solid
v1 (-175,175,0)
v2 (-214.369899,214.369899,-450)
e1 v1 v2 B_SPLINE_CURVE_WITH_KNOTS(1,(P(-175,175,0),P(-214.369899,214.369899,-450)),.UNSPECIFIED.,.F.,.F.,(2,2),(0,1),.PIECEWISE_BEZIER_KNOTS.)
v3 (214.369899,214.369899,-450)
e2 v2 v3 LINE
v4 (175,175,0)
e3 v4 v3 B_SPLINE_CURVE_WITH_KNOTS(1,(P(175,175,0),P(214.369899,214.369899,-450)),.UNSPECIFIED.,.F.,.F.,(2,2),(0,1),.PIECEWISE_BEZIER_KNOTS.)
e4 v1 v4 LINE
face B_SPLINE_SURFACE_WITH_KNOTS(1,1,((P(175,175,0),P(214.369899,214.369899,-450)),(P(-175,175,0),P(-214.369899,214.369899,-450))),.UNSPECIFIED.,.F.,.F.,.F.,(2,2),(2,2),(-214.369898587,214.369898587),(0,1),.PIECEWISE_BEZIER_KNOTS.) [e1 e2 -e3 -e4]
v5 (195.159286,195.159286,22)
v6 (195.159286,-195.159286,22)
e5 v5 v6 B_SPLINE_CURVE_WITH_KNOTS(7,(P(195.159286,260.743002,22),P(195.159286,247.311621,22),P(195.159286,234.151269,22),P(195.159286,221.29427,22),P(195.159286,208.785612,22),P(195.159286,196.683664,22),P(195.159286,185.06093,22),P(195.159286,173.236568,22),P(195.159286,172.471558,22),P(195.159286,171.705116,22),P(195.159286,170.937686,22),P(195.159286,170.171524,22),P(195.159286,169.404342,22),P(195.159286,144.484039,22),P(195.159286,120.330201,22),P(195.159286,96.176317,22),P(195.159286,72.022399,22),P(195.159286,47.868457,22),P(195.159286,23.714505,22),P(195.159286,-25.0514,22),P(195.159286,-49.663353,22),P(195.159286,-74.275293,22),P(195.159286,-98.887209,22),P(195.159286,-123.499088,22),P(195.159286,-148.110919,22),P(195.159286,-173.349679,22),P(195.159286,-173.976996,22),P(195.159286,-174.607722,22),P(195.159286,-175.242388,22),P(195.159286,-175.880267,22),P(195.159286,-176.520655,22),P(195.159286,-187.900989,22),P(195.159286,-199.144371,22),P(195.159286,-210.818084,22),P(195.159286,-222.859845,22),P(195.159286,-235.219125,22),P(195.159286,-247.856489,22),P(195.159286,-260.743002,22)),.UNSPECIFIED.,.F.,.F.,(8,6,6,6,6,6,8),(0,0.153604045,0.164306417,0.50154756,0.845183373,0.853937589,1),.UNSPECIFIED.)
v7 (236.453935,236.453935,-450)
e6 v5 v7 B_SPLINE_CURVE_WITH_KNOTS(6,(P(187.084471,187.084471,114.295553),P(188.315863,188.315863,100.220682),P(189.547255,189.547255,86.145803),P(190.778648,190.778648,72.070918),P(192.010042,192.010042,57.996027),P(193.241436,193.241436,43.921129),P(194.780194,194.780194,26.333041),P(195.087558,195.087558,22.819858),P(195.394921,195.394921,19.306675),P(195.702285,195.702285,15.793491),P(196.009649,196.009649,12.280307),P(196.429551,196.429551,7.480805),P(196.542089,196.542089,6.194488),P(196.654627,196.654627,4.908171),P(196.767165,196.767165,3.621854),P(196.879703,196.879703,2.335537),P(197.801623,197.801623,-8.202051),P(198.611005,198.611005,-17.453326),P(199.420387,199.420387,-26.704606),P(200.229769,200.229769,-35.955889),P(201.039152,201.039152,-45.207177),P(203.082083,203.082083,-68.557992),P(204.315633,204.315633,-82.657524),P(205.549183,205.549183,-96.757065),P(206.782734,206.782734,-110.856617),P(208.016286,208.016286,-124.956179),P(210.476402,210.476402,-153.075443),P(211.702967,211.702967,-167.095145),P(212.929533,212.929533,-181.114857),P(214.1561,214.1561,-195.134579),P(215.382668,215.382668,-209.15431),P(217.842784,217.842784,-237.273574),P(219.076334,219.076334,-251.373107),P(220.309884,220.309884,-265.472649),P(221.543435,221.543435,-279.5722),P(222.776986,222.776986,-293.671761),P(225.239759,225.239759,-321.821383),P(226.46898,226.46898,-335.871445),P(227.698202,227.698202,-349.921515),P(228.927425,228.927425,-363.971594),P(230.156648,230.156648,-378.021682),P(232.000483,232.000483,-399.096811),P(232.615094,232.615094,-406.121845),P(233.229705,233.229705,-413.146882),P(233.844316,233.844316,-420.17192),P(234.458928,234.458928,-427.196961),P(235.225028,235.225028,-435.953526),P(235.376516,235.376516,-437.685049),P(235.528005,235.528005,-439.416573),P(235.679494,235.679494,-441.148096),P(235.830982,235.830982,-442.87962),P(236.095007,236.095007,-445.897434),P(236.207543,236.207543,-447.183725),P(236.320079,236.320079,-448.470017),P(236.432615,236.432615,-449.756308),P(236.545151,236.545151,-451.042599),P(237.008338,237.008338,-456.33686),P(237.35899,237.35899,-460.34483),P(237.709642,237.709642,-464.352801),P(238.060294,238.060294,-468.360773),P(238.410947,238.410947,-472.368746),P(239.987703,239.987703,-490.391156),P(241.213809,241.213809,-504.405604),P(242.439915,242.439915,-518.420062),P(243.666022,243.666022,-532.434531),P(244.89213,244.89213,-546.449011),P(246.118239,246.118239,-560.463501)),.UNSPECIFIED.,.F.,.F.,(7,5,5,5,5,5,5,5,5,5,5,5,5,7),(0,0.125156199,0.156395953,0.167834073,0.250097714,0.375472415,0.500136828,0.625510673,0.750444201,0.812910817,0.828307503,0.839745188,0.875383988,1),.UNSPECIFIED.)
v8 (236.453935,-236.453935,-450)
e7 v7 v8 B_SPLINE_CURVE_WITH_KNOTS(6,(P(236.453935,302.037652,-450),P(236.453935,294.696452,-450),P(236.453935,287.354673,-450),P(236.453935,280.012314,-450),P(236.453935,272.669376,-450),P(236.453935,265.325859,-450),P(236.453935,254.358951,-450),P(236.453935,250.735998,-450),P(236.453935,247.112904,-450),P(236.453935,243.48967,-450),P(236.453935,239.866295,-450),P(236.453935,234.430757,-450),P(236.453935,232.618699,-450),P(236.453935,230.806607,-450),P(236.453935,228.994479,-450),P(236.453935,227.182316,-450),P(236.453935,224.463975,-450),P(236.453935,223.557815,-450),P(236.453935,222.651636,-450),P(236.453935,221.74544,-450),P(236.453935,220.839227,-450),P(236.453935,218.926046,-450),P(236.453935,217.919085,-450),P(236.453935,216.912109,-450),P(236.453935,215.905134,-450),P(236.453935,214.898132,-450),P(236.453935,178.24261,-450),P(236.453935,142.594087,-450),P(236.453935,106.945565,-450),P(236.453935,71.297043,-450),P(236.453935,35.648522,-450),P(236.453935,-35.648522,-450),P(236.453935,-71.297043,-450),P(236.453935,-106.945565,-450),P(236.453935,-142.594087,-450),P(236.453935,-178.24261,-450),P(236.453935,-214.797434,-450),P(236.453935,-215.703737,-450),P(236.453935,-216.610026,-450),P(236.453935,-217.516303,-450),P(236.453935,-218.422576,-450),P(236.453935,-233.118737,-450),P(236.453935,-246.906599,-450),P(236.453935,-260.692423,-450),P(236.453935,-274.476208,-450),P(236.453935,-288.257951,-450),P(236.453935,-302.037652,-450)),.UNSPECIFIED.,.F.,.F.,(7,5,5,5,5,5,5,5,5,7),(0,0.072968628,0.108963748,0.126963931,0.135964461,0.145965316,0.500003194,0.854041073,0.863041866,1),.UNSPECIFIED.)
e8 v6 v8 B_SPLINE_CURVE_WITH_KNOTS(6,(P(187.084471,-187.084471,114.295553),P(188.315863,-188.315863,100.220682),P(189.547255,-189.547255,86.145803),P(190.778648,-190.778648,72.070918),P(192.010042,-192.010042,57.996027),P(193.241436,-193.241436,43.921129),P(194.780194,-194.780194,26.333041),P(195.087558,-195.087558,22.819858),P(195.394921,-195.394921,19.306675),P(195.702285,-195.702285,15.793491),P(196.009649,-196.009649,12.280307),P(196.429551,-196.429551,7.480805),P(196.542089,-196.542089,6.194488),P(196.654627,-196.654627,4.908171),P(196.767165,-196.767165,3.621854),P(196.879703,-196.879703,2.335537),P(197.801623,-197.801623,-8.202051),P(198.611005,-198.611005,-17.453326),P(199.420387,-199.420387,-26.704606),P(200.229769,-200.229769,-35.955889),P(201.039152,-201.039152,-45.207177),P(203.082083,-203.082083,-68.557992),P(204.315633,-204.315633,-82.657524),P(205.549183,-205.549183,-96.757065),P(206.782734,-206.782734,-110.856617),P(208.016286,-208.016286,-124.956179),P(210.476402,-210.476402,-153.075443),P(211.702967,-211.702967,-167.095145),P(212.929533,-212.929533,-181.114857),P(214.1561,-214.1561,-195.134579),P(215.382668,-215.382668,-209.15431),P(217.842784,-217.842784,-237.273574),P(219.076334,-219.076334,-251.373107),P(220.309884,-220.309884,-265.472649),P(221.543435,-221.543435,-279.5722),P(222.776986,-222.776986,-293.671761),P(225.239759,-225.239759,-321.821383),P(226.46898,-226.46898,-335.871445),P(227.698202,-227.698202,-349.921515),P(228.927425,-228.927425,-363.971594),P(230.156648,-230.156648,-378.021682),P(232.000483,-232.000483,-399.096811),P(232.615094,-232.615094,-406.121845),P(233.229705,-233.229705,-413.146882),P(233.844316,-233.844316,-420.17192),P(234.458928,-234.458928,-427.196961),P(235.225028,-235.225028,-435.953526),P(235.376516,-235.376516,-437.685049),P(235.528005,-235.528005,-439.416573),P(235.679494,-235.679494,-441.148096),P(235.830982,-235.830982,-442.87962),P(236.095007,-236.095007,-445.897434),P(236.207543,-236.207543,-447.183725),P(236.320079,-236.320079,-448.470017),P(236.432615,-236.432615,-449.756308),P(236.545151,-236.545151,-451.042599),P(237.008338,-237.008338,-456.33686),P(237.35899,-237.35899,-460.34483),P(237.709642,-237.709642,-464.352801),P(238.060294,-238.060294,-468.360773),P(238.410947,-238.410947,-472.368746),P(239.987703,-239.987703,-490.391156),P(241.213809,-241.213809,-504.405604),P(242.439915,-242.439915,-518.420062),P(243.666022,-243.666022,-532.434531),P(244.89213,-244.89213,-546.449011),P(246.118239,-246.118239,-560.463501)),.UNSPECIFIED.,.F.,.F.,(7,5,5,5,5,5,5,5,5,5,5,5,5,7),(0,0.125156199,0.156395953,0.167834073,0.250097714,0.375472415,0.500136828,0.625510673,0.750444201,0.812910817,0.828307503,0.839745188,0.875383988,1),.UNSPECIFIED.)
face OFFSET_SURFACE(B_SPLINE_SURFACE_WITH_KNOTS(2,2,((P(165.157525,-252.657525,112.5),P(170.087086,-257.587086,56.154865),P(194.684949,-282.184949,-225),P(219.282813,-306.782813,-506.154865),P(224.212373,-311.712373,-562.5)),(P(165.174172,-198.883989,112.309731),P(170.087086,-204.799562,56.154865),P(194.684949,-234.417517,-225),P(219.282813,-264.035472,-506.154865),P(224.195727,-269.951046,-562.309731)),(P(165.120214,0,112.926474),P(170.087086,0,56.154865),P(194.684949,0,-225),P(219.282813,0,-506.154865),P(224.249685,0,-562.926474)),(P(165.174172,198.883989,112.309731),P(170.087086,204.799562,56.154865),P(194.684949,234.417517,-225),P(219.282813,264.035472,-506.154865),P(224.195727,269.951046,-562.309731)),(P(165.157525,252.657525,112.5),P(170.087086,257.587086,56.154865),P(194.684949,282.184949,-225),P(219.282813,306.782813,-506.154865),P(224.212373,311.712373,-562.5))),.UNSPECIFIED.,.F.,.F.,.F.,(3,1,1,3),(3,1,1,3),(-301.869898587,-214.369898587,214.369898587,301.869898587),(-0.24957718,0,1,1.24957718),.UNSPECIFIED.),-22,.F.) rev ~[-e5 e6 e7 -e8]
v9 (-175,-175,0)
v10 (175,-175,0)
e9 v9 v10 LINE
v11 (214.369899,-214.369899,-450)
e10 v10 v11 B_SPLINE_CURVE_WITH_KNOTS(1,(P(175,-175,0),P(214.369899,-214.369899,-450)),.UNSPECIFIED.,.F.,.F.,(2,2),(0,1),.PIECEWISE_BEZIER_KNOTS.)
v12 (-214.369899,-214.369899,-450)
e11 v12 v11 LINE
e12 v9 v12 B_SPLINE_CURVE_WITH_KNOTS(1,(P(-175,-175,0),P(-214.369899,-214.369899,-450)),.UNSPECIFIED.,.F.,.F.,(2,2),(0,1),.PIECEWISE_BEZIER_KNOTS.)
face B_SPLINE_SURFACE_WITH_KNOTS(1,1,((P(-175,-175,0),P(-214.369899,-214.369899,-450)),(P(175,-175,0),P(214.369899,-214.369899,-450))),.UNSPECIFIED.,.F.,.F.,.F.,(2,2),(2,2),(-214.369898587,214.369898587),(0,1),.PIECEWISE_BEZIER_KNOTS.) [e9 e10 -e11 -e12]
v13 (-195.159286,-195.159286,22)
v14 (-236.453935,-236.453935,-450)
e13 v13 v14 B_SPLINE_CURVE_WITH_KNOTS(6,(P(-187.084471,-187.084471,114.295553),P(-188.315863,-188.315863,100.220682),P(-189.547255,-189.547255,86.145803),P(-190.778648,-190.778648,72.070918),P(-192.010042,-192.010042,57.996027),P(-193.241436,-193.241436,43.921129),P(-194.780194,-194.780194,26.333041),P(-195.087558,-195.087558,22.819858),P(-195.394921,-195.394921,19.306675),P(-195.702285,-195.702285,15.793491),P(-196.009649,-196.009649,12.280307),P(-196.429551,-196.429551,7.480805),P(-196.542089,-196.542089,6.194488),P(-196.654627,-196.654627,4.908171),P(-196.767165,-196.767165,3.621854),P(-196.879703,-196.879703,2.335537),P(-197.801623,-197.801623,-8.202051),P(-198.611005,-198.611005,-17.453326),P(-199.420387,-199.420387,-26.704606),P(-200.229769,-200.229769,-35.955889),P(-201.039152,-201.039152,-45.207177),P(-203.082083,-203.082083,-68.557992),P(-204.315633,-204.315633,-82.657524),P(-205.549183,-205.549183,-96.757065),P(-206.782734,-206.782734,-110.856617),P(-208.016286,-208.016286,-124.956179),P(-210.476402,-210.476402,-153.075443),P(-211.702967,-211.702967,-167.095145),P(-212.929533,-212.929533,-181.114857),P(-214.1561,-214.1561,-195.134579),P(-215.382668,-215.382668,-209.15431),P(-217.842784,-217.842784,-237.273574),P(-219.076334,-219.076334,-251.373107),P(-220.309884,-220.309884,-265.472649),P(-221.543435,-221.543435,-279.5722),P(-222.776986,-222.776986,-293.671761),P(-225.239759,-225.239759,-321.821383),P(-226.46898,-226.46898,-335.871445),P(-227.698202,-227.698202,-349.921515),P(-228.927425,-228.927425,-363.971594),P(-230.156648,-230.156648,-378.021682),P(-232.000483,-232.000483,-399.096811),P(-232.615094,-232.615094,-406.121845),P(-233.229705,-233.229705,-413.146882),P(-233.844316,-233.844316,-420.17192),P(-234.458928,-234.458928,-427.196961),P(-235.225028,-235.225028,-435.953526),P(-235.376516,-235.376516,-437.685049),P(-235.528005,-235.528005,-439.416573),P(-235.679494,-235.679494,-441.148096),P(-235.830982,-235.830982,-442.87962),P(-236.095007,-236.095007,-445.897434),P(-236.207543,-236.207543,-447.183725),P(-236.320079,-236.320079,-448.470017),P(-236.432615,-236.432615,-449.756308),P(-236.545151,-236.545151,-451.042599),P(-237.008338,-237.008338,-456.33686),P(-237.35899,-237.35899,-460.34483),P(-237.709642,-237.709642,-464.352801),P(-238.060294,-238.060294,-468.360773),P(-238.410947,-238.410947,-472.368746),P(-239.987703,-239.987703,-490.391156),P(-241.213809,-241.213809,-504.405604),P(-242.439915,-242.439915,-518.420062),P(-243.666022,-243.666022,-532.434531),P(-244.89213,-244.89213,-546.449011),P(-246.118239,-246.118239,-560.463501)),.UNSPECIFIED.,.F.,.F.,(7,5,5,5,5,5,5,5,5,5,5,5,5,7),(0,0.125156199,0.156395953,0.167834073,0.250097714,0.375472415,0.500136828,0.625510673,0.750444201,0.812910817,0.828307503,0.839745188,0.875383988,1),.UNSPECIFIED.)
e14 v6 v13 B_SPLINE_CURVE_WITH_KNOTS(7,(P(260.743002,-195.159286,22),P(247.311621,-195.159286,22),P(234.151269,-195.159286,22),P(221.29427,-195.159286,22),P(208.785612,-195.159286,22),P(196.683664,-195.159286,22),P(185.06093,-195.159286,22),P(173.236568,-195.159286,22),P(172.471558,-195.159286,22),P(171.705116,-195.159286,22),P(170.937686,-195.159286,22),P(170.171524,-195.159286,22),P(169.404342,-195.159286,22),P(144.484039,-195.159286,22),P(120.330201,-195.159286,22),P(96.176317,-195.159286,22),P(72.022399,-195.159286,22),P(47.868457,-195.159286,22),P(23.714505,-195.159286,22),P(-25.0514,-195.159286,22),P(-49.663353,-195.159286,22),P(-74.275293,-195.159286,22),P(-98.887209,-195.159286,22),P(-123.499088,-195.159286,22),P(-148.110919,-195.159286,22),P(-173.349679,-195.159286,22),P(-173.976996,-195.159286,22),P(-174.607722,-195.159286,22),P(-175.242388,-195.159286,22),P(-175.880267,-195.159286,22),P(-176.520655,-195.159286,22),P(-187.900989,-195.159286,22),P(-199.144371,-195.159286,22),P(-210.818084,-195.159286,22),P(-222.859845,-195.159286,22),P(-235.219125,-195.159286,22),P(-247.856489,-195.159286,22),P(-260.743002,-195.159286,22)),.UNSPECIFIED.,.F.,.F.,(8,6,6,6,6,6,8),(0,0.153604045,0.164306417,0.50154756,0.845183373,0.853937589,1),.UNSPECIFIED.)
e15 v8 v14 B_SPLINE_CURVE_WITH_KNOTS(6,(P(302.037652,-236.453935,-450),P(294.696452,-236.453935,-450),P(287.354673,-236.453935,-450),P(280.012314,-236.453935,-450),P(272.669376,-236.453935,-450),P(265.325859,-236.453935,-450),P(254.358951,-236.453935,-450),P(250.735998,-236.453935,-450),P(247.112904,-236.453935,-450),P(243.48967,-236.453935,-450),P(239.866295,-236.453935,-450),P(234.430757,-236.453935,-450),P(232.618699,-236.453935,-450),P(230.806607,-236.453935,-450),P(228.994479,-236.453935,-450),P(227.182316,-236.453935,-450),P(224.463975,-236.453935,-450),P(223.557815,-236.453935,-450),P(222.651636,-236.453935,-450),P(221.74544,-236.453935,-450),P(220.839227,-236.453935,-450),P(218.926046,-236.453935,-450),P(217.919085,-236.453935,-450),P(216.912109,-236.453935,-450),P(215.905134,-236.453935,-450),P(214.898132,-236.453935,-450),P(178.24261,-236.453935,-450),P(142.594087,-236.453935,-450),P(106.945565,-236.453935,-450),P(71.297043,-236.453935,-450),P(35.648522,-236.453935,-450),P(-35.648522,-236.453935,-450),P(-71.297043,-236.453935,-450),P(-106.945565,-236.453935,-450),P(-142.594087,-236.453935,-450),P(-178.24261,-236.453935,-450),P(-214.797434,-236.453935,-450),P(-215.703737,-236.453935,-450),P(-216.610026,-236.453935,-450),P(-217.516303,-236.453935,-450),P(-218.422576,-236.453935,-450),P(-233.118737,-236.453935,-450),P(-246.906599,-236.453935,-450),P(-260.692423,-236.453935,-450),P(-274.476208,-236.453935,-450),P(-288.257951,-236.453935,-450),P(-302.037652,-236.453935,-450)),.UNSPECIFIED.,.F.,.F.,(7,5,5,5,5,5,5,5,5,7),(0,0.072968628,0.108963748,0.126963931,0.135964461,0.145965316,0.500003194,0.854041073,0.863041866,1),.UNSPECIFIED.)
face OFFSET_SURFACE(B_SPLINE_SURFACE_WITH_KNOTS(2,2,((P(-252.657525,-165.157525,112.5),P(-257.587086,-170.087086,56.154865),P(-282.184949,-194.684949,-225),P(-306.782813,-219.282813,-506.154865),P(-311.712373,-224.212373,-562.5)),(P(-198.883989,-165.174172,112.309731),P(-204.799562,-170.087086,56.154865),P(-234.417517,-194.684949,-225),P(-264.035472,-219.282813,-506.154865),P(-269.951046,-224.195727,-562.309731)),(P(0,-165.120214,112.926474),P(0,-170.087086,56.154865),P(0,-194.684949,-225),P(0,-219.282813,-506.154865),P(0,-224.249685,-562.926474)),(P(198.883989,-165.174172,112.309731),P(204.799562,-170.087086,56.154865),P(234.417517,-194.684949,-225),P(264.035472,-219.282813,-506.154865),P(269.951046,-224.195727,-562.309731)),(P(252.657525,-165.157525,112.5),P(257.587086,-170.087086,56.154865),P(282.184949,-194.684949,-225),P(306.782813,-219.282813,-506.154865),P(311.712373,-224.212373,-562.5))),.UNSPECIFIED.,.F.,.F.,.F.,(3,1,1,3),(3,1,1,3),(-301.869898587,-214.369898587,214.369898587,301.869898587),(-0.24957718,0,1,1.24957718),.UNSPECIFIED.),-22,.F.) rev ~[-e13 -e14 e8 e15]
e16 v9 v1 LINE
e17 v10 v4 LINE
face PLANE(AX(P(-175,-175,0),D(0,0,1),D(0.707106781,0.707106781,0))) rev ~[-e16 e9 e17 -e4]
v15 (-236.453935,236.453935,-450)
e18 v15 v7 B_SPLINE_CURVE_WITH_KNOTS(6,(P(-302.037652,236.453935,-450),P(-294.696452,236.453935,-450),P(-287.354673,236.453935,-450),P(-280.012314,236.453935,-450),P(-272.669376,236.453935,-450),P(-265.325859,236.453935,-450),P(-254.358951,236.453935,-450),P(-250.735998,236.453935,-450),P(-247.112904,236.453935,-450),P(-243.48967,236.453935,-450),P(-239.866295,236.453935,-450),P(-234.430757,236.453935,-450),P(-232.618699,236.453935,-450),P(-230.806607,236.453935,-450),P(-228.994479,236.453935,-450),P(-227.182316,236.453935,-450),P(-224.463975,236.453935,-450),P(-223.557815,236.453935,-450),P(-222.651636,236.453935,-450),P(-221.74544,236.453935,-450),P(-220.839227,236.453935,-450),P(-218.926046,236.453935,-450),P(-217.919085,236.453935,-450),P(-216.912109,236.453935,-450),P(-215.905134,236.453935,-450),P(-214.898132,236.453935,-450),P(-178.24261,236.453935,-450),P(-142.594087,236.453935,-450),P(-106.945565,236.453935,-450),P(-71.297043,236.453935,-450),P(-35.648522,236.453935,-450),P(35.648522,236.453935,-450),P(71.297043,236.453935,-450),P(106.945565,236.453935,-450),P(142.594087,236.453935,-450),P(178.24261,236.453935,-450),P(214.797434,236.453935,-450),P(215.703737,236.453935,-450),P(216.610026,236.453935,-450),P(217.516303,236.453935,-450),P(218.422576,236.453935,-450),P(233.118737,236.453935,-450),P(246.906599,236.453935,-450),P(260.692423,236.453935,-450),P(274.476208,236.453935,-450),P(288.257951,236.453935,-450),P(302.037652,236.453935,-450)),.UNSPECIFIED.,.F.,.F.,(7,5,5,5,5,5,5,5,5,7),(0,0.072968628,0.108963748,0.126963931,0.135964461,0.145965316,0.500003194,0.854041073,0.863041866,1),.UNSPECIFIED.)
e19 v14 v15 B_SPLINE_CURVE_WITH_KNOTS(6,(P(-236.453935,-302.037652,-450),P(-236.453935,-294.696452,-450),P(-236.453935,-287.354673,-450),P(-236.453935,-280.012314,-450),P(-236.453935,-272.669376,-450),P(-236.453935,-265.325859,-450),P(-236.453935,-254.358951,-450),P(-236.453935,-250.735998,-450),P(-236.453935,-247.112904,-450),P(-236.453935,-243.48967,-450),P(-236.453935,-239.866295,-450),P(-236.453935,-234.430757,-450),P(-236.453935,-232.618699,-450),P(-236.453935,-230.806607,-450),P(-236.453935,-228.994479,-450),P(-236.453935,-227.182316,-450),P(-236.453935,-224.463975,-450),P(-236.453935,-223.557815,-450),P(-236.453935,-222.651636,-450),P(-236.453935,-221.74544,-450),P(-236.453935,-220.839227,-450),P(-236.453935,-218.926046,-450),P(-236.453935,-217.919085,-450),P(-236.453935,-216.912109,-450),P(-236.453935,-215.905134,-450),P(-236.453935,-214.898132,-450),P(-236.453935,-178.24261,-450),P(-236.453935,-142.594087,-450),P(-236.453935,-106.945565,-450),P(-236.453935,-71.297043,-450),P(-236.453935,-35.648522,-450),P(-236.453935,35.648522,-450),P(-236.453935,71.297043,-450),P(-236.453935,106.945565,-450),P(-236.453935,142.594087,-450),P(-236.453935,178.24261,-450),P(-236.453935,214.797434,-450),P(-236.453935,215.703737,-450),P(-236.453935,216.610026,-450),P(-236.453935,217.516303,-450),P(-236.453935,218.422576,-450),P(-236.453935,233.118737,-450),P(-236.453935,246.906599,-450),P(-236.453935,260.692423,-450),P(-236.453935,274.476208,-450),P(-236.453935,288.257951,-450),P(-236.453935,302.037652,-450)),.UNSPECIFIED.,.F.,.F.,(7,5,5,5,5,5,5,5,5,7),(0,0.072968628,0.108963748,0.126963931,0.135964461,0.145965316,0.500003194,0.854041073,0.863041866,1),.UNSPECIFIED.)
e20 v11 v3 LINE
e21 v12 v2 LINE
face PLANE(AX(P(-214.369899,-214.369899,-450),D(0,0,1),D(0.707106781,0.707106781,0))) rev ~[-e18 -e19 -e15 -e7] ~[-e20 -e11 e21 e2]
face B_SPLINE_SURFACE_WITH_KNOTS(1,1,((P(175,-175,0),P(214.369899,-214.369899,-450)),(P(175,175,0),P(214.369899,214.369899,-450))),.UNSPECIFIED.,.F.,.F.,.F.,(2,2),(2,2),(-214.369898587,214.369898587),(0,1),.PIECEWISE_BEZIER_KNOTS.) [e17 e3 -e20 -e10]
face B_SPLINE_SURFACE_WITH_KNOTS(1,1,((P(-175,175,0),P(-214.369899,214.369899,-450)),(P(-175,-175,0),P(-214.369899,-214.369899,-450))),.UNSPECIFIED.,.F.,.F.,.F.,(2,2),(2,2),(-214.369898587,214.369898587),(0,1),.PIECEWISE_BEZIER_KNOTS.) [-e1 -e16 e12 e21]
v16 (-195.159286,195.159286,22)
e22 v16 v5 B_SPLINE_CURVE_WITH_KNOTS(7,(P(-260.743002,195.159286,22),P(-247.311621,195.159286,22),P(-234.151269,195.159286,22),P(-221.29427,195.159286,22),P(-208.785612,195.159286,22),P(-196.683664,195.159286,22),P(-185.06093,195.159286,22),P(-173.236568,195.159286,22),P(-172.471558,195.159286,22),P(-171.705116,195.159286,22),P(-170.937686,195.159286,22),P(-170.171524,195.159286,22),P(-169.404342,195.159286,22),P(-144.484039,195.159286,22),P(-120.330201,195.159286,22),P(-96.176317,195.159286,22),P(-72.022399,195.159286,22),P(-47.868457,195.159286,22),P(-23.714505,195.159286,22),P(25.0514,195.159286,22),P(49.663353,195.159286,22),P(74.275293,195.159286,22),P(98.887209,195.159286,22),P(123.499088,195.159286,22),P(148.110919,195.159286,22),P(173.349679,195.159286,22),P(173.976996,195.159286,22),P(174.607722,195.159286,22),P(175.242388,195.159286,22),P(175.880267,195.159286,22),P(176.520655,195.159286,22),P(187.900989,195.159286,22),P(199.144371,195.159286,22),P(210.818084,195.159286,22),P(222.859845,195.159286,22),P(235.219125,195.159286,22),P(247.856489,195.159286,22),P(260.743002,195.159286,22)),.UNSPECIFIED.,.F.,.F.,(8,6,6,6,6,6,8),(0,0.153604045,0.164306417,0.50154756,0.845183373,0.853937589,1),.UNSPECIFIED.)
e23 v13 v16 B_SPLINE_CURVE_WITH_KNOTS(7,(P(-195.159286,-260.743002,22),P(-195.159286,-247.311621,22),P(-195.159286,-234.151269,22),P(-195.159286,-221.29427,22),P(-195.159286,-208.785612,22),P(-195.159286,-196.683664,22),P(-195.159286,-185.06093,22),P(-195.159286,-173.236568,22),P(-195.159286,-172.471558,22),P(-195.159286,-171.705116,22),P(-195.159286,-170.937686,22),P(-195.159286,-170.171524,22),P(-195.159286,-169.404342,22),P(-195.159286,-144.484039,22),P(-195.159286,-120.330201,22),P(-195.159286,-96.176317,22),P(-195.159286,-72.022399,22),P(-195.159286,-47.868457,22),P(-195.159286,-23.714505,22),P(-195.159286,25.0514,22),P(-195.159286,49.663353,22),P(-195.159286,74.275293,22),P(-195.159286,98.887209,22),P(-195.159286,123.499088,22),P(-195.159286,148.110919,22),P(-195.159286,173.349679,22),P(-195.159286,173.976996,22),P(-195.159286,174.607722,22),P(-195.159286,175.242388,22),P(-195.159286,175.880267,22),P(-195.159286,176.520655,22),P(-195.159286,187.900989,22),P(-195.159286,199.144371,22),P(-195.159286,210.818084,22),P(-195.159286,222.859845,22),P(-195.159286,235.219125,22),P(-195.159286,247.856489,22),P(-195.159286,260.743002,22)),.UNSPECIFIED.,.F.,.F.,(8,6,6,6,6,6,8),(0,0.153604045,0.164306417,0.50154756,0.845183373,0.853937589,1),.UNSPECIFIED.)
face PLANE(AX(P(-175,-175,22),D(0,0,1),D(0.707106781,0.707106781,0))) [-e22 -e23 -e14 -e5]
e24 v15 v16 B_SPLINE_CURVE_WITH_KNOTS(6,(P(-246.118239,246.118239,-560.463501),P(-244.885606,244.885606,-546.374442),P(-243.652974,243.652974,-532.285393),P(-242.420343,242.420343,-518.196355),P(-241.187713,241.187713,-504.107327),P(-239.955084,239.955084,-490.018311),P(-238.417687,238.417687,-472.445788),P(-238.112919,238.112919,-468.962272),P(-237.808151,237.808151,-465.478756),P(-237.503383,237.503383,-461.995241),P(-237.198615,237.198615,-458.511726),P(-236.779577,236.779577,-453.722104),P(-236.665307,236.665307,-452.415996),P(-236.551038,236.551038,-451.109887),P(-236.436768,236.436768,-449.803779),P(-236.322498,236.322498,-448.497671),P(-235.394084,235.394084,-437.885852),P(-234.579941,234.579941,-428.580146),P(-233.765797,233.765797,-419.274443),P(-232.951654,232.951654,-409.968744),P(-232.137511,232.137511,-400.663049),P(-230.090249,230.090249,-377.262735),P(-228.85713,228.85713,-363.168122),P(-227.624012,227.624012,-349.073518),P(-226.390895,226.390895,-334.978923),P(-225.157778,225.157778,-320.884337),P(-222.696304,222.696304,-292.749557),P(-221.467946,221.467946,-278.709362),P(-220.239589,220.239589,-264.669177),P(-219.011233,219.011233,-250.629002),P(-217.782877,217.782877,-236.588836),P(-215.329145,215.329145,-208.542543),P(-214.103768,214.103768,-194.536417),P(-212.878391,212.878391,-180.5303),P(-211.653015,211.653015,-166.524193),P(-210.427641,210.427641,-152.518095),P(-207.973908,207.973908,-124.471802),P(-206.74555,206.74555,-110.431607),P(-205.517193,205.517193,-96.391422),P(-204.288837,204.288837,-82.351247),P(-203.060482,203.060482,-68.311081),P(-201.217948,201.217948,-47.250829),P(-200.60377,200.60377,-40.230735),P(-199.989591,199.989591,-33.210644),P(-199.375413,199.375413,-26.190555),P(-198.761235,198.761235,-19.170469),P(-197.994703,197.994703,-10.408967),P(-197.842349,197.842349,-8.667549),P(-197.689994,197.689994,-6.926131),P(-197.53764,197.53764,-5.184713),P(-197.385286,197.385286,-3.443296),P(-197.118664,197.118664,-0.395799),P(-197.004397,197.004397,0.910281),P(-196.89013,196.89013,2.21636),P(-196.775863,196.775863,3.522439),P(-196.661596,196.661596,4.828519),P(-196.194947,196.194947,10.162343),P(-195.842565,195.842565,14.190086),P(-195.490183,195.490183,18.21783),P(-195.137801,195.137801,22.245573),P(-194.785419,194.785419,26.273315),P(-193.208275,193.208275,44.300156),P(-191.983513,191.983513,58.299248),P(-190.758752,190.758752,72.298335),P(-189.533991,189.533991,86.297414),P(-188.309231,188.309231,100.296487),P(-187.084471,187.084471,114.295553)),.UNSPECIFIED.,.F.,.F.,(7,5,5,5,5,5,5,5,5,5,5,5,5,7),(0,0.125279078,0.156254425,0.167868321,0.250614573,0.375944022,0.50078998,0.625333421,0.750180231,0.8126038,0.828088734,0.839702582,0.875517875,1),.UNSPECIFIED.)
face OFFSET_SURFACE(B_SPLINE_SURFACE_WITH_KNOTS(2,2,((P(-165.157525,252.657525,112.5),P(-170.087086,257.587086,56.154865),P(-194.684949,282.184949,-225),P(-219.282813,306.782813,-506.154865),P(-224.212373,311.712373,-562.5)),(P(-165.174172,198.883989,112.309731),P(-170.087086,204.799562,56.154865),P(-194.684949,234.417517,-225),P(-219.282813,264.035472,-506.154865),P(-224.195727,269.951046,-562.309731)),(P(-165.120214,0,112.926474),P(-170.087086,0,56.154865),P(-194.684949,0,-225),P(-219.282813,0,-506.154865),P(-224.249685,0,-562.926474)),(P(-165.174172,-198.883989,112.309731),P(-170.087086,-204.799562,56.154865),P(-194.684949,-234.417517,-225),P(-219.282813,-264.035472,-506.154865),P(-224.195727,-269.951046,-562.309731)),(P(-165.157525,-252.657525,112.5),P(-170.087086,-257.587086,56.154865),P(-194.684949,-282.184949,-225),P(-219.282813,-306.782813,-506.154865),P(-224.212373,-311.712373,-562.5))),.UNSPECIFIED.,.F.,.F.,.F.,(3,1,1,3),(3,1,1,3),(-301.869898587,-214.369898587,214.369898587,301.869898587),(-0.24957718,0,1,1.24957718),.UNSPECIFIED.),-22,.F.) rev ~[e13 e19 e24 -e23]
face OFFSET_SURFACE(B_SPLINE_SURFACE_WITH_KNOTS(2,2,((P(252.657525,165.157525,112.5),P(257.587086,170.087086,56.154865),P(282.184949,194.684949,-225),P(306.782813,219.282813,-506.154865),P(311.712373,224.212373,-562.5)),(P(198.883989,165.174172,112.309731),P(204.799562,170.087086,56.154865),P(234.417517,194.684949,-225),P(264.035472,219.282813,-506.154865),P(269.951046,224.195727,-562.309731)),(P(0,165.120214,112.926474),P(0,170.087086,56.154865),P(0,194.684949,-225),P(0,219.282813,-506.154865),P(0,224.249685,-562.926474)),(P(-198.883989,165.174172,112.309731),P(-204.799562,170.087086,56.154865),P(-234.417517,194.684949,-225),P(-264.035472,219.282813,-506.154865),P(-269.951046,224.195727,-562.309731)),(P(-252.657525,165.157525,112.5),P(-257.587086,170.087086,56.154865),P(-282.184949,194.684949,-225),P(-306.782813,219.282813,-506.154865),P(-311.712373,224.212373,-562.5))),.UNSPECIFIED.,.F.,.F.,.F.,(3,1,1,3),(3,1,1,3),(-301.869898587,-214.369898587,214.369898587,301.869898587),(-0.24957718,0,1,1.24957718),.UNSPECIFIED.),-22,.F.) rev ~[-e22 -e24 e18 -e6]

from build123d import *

# Parameters (mm, degrees)
F0_W     = 350
F0_H     = 350
F1_DEPTH = 450
F1_TAPER = -5
F2_T     = 22


with BuildPart() as f1:
    # F0 (on Top) → F1 (new body)
    with BuildSketch(Plane.XY):
        Rectangle(F0_W, F0_H)
    extrude(amount=-F1_DEPTH, taper=F1_TAPER)

    # F2
    f2_openings = [f1.faces().sort_by_distance(p)[0] for p in [
        (0, 0, -450),
    ]]
    offset(amount=F2_T, openings=f2_openings, kind=Kind.INTERSECTION)


solid = f1.part
